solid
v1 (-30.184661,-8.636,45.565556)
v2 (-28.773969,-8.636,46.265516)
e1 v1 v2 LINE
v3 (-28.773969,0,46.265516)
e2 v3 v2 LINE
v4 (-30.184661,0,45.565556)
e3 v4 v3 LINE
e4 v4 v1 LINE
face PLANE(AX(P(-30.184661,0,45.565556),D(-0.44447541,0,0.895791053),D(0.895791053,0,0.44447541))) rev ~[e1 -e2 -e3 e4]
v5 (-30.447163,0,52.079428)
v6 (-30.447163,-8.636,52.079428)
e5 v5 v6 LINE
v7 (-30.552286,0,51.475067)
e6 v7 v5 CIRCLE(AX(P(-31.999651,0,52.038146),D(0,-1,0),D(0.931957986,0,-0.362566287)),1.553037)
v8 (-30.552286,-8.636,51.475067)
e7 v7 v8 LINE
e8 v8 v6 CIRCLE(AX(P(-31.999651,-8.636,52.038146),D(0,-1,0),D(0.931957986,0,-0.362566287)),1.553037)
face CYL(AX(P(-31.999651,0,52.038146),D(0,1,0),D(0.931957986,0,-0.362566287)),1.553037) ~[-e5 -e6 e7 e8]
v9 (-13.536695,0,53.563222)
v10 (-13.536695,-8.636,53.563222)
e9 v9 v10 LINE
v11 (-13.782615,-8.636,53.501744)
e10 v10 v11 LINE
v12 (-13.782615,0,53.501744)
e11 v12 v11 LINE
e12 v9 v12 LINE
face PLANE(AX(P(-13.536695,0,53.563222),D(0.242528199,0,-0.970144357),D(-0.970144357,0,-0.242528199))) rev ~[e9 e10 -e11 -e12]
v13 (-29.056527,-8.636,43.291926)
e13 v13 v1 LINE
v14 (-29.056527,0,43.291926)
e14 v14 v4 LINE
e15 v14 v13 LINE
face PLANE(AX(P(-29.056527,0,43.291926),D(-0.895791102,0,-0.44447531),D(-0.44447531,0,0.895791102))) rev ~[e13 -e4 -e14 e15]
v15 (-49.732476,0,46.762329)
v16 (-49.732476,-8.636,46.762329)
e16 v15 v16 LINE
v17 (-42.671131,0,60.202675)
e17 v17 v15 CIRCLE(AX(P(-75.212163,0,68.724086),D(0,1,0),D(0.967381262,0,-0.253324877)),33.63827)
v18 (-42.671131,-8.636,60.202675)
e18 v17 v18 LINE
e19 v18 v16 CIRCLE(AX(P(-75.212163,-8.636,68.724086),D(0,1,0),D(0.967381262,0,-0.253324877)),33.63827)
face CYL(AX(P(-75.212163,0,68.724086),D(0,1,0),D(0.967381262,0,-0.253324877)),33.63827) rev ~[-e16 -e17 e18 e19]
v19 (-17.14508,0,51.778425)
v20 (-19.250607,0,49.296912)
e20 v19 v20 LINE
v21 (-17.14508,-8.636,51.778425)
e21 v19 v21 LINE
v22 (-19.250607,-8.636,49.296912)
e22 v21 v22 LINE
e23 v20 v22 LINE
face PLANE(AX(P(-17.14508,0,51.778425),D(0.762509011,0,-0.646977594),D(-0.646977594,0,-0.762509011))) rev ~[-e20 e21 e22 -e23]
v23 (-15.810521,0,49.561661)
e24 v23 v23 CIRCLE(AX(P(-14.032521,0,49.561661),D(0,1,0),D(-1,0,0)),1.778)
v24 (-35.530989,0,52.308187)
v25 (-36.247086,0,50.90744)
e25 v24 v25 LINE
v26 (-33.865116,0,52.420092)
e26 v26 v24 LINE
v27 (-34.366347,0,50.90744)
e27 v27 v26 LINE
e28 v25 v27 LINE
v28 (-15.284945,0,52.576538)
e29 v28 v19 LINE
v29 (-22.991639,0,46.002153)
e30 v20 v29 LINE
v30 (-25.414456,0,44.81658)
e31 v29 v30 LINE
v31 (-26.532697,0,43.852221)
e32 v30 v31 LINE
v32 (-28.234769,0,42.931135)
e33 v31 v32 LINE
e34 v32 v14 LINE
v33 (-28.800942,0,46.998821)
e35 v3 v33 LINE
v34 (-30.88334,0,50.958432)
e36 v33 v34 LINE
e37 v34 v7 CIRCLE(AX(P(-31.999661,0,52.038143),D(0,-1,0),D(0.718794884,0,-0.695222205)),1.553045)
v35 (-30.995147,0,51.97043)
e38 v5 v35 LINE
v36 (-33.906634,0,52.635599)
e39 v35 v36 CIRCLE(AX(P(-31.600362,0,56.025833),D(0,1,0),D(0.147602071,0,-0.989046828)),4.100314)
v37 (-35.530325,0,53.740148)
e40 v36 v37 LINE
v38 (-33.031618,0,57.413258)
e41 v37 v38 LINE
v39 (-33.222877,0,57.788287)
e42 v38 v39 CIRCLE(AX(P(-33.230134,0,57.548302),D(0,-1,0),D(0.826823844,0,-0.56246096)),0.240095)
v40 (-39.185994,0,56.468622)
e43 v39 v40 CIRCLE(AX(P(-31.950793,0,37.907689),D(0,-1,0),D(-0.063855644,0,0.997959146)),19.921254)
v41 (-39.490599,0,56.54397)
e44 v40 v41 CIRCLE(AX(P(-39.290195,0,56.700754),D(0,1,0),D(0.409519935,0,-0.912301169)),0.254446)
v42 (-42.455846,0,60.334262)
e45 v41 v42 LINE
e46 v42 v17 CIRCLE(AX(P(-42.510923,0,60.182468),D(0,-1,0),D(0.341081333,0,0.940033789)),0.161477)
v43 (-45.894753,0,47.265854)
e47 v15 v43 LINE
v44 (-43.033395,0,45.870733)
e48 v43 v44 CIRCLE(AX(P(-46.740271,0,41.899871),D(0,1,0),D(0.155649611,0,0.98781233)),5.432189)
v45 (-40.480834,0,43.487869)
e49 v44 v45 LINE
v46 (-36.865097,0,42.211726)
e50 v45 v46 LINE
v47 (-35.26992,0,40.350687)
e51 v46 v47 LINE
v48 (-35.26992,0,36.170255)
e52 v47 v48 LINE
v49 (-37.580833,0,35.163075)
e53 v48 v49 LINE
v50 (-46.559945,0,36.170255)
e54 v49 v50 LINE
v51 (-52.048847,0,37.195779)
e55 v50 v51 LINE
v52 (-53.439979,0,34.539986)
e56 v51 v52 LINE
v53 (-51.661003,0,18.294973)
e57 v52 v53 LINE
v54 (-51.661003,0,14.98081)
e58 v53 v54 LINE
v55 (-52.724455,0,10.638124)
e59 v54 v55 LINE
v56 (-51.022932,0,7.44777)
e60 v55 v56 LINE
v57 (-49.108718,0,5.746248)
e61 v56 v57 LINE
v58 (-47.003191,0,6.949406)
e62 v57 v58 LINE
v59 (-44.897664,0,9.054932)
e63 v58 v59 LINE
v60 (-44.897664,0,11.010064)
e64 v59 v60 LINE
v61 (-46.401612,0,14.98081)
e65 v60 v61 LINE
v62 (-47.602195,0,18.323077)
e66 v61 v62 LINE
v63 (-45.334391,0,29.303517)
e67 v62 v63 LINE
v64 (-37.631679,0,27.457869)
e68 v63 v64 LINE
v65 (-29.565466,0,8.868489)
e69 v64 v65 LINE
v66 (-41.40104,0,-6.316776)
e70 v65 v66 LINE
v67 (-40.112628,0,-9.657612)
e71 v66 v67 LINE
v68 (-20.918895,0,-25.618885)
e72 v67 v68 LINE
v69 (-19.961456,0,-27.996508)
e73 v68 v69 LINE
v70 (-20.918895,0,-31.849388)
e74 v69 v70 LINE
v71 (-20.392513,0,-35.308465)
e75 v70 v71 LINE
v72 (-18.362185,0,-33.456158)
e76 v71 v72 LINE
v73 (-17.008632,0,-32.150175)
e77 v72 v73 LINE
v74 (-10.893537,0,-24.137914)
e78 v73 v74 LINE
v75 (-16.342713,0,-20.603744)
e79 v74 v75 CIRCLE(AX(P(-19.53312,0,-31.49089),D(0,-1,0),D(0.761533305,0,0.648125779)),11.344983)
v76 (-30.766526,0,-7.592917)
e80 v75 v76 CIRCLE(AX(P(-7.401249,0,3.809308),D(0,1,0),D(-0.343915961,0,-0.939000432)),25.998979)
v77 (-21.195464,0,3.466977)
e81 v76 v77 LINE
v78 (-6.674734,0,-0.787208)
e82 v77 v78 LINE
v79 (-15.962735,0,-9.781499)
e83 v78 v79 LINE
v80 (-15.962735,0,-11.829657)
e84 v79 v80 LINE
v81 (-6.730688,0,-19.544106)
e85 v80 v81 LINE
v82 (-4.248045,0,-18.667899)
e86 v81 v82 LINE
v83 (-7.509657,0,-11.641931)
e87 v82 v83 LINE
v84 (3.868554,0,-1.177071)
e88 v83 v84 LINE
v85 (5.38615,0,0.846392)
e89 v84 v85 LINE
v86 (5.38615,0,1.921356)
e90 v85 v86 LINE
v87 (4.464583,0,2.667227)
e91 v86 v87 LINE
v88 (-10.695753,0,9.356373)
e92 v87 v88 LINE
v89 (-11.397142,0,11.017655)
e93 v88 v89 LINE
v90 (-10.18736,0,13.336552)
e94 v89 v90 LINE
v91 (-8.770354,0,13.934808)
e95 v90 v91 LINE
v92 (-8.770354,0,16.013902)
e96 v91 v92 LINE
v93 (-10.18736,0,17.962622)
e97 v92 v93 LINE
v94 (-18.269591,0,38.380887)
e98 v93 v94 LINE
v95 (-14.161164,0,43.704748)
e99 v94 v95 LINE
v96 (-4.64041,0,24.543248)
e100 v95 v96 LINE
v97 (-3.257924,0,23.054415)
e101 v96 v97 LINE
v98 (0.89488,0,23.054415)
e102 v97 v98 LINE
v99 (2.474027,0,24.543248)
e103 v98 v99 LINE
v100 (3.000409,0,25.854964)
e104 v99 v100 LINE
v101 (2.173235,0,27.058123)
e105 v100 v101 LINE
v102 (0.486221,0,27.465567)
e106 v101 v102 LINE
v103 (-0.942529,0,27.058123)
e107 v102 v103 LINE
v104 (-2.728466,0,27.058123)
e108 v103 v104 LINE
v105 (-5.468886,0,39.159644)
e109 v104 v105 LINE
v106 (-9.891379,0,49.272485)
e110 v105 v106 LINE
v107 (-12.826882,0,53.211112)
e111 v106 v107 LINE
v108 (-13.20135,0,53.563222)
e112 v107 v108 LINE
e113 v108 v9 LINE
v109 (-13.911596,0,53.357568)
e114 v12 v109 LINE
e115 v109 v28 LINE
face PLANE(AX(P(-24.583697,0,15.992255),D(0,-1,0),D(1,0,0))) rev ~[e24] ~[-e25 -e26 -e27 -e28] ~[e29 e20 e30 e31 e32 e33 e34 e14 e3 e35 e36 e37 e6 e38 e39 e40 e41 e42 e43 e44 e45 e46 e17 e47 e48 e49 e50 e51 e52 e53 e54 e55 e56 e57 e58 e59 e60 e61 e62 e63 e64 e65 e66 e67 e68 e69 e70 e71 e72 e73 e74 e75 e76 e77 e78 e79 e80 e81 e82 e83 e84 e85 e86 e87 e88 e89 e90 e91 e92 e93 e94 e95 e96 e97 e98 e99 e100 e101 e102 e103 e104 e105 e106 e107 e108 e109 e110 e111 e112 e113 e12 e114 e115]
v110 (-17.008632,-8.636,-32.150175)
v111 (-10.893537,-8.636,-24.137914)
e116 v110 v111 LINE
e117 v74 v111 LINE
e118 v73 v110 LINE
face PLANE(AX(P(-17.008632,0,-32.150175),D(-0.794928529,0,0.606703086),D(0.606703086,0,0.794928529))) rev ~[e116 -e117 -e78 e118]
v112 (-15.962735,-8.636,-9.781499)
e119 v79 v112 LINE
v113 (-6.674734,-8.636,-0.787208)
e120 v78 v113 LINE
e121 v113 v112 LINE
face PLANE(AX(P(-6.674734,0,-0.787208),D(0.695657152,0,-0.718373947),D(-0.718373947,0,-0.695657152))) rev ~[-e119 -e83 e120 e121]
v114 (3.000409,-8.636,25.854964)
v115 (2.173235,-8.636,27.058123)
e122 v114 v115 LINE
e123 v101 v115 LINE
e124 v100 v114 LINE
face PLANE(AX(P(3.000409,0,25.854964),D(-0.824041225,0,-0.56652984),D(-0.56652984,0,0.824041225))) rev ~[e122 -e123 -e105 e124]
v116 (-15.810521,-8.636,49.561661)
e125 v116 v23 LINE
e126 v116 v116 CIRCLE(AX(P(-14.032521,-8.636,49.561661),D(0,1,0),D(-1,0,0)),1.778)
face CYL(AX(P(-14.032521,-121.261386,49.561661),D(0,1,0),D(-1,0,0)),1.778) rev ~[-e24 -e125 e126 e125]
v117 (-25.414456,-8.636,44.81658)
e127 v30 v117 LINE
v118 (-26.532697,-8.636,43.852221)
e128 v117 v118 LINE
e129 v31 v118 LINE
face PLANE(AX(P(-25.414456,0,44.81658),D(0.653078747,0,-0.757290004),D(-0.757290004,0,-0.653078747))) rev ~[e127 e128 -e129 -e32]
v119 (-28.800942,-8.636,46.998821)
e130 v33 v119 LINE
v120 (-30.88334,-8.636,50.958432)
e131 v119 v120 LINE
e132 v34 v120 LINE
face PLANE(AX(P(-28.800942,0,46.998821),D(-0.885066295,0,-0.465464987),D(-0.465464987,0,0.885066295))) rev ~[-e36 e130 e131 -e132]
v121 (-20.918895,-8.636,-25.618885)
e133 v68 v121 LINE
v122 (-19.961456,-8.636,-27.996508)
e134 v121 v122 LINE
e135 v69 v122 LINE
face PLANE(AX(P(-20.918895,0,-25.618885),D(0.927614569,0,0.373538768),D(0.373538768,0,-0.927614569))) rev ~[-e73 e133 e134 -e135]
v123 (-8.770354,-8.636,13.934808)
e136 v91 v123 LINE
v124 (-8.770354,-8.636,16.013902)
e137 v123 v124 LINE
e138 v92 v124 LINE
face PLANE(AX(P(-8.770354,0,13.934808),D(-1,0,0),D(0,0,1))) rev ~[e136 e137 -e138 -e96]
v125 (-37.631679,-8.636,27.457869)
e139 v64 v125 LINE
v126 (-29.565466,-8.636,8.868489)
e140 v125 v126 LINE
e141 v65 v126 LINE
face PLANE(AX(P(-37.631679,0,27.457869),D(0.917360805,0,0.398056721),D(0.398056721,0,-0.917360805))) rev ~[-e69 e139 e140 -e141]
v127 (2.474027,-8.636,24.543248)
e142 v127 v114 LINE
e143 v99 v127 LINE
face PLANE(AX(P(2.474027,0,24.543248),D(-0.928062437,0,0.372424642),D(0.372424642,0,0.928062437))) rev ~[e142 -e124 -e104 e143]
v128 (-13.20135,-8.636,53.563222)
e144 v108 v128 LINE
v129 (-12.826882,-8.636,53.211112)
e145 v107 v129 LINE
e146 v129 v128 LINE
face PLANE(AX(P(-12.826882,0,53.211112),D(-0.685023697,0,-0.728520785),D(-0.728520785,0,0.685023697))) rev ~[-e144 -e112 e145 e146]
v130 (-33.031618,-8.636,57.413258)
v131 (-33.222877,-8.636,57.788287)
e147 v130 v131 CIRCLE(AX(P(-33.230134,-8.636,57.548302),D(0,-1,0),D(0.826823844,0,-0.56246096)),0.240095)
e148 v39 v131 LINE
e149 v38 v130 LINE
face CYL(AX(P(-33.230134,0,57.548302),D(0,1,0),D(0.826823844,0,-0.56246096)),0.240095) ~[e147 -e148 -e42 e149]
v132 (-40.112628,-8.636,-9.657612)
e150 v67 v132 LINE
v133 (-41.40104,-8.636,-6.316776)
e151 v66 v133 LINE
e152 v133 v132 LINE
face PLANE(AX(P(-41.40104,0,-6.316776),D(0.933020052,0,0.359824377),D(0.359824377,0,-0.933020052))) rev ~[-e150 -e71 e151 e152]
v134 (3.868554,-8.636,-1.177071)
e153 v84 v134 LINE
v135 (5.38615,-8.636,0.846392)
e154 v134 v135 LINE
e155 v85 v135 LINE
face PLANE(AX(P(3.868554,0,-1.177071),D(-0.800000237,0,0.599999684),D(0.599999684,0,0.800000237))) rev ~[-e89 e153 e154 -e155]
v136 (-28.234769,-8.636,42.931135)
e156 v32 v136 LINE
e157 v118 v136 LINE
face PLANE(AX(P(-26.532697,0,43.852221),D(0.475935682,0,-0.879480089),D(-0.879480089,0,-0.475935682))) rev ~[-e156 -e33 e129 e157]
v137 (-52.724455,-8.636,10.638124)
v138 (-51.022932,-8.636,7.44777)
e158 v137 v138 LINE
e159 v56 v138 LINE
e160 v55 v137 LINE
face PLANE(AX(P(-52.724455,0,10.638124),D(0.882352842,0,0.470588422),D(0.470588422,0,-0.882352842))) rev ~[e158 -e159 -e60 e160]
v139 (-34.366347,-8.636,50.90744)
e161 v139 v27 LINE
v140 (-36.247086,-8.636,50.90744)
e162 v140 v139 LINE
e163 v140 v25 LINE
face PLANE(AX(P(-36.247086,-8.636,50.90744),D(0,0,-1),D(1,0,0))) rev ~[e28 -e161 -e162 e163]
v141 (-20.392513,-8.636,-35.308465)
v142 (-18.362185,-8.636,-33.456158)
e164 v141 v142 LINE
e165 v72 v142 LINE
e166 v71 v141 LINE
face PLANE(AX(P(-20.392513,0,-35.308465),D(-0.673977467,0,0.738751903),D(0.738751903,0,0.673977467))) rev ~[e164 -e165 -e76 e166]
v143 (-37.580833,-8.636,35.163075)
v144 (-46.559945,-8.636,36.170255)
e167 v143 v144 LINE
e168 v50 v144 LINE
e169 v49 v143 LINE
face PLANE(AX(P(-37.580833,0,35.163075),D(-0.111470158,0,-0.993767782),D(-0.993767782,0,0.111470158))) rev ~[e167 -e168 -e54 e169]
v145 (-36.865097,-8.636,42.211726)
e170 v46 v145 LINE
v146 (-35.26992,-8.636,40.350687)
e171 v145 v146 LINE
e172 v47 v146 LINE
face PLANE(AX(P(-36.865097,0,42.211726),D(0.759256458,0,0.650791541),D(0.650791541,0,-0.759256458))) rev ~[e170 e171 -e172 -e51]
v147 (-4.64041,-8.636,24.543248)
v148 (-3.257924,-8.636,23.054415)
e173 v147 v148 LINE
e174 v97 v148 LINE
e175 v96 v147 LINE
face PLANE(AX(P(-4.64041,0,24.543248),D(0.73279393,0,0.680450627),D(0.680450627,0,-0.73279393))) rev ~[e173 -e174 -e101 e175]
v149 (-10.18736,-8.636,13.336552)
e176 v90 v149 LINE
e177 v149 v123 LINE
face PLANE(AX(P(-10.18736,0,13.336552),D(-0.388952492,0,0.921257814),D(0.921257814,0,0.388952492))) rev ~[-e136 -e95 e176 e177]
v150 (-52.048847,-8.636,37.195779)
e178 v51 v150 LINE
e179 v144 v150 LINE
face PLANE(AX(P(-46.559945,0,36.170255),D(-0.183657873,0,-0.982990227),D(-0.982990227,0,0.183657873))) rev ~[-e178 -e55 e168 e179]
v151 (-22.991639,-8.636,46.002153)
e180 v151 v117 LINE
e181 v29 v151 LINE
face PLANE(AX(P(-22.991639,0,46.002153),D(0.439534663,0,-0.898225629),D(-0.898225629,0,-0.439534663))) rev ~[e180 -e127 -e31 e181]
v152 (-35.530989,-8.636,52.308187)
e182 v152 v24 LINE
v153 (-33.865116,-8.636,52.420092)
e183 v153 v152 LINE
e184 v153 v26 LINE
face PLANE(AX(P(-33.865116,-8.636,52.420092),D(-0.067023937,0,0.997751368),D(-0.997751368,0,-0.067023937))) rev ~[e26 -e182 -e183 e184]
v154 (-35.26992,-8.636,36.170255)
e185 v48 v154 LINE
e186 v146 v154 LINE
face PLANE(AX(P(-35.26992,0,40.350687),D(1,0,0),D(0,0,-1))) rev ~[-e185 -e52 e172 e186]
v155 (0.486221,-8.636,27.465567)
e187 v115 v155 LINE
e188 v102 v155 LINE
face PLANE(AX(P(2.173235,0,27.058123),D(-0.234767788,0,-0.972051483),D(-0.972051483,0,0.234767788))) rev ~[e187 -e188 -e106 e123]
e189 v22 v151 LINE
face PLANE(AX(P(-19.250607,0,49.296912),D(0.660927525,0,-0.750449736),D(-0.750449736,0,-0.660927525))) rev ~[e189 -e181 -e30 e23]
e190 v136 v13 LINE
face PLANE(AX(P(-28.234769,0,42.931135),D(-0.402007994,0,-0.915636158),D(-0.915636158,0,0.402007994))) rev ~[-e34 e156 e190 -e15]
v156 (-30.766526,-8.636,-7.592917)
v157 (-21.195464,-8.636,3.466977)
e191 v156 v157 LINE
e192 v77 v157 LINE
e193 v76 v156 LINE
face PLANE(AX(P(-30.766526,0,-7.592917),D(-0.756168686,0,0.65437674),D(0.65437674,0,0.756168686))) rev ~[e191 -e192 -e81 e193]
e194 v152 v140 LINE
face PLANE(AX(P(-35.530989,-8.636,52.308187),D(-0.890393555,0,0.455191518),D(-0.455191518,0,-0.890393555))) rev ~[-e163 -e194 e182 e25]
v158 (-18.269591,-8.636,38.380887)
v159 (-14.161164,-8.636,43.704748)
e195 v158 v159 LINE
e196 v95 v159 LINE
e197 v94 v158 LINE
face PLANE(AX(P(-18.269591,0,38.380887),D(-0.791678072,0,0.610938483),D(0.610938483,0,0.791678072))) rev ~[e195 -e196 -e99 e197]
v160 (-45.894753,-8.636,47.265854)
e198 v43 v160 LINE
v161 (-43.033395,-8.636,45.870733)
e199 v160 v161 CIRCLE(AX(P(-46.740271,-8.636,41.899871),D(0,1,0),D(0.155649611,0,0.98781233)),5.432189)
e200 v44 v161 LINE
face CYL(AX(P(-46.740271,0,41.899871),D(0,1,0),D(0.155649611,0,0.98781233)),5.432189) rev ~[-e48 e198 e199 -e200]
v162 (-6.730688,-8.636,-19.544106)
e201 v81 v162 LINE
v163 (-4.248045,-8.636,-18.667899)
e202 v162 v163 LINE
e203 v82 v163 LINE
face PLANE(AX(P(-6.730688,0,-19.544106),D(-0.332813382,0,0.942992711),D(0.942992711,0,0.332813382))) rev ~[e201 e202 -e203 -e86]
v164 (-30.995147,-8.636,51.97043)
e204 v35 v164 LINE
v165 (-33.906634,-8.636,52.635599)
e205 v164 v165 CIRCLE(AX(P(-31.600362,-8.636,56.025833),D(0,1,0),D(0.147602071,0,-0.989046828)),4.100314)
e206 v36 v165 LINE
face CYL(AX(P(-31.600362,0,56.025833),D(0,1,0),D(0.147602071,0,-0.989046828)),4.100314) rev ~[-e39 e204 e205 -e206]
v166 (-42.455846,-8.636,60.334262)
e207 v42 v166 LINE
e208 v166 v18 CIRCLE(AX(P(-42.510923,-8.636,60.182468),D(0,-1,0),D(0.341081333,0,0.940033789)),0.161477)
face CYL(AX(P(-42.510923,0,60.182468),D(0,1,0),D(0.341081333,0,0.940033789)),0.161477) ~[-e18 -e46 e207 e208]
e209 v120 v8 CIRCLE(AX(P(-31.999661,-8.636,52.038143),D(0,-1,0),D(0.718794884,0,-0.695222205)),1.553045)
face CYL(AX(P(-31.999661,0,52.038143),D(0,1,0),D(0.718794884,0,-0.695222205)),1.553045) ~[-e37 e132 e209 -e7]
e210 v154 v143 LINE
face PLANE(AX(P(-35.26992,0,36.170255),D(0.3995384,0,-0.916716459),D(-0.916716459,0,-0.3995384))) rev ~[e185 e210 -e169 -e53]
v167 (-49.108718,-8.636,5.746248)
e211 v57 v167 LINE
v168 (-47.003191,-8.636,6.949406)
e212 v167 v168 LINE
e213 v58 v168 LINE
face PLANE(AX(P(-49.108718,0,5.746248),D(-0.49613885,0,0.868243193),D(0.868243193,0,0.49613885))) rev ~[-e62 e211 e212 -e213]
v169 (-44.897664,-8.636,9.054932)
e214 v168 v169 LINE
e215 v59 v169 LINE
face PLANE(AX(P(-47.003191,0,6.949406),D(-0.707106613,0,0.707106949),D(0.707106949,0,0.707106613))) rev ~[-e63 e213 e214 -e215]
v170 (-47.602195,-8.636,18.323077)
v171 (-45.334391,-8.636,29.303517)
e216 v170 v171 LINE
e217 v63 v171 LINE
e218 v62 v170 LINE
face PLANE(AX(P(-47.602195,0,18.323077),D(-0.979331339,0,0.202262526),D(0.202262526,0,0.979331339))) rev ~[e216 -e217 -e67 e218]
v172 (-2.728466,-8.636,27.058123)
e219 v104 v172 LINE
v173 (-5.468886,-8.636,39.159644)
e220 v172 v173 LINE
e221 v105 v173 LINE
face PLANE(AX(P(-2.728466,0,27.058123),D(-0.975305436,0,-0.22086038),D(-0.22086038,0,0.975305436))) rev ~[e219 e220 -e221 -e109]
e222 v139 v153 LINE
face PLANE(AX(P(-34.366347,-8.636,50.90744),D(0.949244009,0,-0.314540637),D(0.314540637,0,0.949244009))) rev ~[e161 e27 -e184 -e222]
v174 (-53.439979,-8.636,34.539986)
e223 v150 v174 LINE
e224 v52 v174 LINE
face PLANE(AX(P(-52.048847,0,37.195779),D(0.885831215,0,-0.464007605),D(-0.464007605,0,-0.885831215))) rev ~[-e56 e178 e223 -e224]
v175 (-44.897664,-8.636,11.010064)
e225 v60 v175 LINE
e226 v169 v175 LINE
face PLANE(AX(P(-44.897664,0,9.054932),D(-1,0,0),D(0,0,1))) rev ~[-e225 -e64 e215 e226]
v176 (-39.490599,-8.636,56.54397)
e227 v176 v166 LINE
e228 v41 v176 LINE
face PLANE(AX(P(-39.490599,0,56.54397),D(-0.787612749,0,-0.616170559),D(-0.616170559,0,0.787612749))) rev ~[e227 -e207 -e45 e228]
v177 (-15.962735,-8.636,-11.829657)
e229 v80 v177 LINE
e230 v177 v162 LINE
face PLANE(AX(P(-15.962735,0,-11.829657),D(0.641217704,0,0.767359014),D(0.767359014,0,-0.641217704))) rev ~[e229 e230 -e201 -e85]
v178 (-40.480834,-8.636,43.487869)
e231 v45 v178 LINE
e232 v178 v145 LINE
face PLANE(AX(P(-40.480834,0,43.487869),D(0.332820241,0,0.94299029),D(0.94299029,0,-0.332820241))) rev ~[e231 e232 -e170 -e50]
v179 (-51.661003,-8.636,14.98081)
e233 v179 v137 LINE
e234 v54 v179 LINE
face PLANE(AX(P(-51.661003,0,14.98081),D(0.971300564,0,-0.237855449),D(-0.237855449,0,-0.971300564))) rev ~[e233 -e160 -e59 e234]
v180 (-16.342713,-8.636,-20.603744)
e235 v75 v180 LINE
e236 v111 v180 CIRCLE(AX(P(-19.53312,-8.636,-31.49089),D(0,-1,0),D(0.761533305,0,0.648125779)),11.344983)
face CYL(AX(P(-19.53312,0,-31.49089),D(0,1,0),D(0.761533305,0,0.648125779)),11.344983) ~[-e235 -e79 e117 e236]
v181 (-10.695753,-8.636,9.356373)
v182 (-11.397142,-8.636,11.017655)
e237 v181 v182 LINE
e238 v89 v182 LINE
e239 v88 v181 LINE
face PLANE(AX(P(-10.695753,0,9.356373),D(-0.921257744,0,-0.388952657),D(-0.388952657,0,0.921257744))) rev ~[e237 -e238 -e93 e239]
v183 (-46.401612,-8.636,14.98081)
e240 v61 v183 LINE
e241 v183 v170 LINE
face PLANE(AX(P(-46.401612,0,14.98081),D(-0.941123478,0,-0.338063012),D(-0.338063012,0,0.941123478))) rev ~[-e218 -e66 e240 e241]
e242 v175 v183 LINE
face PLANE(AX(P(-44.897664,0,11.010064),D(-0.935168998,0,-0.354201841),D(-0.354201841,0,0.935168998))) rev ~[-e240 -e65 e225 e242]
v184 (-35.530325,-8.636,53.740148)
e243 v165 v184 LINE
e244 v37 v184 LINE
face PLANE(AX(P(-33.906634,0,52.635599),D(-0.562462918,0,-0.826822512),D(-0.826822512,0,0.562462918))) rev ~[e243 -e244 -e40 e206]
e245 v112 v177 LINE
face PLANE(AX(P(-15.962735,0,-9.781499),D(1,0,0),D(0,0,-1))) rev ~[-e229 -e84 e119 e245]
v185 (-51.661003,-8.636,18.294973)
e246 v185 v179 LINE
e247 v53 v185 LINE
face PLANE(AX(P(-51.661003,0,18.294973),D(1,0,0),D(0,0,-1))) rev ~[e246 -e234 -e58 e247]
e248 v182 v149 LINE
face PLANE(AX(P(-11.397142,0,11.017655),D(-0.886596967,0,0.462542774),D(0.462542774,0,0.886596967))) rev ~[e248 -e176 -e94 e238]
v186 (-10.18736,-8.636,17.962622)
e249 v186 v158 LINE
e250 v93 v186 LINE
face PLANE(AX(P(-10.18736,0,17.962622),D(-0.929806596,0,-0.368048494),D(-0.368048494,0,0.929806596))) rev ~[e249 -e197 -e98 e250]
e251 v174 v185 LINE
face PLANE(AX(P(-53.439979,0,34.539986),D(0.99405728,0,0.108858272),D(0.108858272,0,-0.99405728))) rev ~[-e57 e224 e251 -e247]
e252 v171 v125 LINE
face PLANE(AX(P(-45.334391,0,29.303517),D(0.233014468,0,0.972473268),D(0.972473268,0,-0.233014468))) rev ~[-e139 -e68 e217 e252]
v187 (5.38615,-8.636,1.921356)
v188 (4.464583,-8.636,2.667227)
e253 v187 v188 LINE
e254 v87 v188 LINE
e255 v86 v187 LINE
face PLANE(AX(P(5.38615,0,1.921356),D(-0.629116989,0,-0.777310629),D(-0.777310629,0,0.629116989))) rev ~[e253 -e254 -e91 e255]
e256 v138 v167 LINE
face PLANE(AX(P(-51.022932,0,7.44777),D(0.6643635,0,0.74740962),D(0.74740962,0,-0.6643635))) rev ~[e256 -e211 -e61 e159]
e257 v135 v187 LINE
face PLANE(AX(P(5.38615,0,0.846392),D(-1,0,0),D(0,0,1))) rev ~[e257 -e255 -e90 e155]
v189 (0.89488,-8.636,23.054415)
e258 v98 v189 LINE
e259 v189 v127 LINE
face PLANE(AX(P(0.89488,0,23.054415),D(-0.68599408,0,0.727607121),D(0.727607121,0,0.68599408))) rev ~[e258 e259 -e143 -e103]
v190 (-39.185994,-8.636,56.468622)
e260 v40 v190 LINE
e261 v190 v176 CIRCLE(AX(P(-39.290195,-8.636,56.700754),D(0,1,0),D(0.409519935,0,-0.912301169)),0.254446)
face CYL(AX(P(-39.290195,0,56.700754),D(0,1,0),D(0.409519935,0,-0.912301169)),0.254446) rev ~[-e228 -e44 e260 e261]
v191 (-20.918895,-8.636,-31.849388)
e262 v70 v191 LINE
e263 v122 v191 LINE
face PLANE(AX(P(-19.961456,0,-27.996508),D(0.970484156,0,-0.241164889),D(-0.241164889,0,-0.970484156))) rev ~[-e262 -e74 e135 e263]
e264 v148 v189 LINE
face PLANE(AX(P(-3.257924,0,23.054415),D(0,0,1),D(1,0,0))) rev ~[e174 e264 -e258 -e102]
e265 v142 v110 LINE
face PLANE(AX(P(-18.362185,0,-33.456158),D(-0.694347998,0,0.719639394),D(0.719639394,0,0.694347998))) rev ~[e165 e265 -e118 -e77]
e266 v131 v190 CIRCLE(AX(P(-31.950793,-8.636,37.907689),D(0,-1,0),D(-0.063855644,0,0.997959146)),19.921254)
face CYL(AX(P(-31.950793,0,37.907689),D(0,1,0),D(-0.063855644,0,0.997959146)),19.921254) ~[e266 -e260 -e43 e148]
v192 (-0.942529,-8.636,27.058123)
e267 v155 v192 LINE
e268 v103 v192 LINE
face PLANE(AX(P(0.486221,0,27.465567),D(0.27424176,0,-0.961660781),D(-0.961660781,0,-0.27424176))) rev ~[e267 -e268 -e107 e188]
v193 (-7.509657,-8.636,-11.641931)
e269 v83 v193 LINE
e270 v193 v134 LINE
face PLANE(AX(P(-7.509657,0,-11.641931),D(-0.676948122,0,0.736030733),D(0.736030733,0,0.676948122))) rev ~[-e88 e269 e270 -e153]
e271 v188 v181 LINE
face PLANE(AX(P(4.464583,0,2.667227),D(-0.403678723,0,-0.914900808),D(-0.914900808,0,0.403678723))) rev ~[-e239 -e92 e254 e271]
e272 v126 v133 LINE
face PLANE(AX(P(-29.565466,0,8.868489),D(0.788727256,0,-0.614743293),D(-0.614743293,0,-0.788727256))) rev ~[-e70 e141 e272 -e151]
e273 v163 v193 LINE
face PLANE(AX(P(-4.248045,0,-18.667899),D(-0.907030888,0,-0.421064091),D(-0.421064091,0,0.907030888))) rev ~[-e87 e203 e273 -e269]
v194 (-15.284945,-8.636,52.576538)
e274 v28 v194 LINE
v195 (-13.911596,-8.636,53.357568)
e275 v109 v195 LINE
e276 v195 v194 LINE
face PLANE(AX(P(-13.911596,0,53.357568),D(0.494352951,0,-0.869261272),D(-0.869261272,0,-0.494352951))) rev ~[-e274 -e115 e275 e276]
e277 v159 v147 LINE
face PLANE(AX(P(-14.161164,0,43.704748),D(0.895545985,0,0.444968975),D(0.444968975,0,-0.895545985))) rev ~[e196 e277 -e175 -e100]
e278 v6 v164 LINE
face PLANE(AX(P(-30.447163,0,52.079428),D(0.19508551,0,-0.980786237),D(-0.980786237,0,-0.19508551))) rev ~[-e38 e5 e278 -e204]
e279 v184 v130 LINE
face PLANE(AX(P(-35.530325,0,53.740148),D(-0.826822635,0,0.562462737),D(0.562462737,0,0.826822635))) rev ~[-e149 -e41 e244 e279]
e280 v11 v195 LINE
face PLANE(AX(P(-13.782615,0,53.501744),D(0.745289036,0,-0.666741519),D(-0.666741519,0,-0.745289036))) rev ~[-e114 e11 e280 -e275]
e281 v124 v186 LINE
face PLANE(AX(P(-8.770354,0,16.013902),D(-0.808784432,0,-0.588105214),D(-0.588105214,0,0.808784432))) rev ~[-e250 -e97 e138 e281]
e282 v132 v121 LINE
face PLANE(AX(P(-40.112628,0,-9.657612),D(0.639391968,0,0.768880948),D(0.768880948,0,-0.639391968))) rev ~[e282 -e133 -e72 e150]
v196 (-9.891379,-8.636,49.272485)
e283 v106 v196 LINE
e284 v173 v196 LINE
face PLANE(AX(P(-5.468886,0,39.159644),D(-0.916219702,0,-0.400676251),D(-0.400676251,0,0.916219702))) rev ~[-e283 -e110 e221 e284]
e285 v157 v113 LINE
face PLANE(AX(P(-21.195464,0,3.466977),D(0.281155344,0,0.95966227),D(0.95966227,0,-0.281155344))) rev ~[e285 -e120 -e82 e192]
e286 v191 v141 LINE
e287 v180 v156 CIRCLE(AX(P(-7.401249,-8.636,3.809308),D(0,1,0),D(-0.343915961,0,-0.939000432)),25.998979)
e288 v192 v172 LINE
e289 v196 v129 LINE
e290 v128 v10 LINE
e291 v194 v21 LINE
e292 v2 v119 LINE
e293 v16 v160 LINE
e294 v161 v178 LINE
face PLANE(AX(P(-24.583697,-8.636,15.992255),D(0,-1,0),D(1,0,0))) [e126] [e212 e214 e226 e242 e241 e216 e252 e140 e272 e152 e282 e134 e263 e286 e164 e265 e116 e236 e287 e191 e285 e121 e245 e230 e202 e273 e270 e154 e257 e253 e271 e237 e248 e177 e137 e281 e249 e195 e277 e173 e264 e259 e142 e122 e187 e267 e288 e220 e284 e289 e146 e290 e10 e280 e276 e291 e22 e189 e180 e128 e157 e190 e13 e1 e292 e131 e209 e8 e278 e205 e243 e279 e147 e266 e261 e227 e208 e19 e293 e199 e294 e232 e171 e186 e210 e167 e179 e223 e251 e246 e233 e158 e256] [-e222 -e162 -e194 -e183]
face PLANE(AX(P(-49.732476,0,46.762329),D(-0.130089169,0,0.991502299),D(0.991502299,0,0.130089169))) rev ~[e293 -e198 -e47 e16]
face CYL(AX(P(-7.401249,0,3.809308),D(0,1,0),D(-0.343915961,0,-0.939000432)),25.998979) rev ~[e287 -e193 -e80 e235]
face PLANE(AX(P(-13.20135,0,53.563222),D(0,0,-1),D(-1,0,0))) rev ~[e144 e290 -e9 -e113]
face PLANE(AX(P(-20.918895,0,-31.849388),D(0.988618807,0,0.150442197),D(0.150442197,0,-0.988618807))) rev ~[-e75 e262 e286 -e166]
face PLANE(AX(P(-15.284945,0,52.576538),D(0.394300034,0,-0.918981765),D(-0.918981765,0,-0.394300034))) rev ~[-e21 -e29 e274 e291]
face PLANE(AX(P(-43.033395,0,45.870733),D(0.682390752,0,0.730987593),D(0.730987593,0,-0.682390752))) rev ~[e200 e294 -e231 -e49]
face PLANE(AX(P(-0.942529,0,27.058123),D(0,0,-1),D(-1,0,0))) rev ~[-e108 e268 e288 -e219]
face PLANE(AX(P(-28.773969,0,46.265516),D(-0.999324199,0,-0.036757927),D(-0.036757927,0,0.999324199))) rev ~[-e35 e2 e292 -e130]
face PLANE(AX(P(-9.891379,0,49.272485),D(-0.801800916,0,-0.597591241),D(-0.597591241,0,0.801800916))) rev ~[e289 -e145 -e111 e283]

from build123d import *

# Parameters (mm, degrees)
F1_DEPTH = 8.636
F3_D     = 3.556
F5_DEPTH = 25.4


with BuildPart() as f1:
    # F0 (on Front) → F1 (new body)
    with BuildSketch(Plane.XZ):
        with BuildLine():
            Line((-39.490599, 56.54397), (-42.455846, 60.334262))
            ThreePointArc((-42.455846, 60.334262), (-42.595136, 60.320247), (-42.671131, 60.202675))
            ThreePointArc((-42.671131, 60.202675), (-45.433619, 53.07891), (-49.732476, 46.762329))
            Line((-49.732476, 46.762329), (-45.894753, 47.265854))
            ThreePointArc((-45.894753, 47.265854), (-44.359586, 46.782597), (-43.033395, 45.870733))
            Line((-43.033395, 45.870733), (-40.480834, 43.487869))
            Line((-40.480834, 43.487869), (-36.865097, 42.211726))
            Line((-36.865097, 42.211726), (-35.26992, 40.350687))
            Line((-35.26992, 40.350687), (-35.26992, 36.170255))
            Line((-35.26992, 36.170255), (-37.580833, 35.163075))
            Line((-37.580833, 35.163075), (-46.559945, 36.170255))
            Line((-46.559945, 36.170255), (-52.048847, 37.195779))
            Line((-52.048847, 37.195779), (-53.439979, 34.539986))
            Line((-53.439979, 34.539986), (-51.661003, 18.294973))
            Line((-51.661003, 18.294973), (-51.661003, 14.98081))
            Line((-51.661003, 14.98081), (-52.724455, 10.638124))
            Line((-52.724455, 10.638124), (-51.022932, 7.44777))
            Line((-51.022932, 7.44777), (-49.108718, 5.746248))
            Line((-49.108718, 5.746248), (-47.003191, 6.949406))
            Line((-47.003191, 6.949406), (-44.897664, 9.054932))
            Line((-44.897664, 9.054932), (-44.897664, 11.010064))
            Line((-44.897664, 11.010064), (-46.401612, 14.98081))
            Line((-46.401612, 14.98081), (-47.602195, 18.323077))
            Line((-47.602195, 18.323077), (-45.334391, 29.303517))
            Line((-45.334391, 29.303517), (-37.631679, 27.457869))
            Line((-37.631679, 27.457869), (-29.565466, 8.868489))
            Line((-29.565466, 8.868489), (-41.40104, -6.316776))
            Line((-41.40104, -6.316776), (-40.112628, -9.657612))
            Line((-40.112628, -9.657612), (-20.918895, -25.618885))
            Line((-20.918895, -25.618885), (-19.961456, -27.996508))
            Line((-19.961456, -27.996508), (-20.918895, -31.849388))
            Line((-20.918895, -31.849388), (-20.392513, -35.308465))
            Line((-20.392513, -35.308465), (-18.362185, -33.456158))
            Line((-18.362185, -33.456158), (-17.008632, -32.150175))
            Line((-17.008632, -32.150175), (-10.893537, -24.137914))
            ThreePointArc((-10.893537, -24.137914), (-13.35981, -21.972545), (-16.342713, -20.603744))
            ThreePointArc((-16.342713, -20.603744), (-24.815375, -15.496005), (-30.766526, -7.592917))
            Line((-30.766526, -7.592917), (-21.195464, 3.466977))
            Line((-21.195464, 3.466977), (-6.674734, -0.787208))
            Line((-6.674734, -0.787208), (-15.962735, -9.781499))
            Line((-15.962735, -9.781499), (-15.962735, -11.829657))
            Line((-15.962735, -11.829657), (-6.730688, -19.544106))
            Line((-6.730688, -19.544106), (-4.248045, -18.667899))
            Line((-4.248045, -18.667899), (-7.509657, -11.641931))
            Line((-7.509657, -11.641931), (3.868554, -1.177071))
            Line((3.868554, -1.177071), (5.38615, 0.846392))
            Line((5.38615, 0.846392), (5.38615, 1.921356))
            Line((5.38615, 1.921356), (4.464583, 2.667227))
            Line((4.464583, 2.667227), (-10.695753, 9.356373))
            Line((-10.695753, 9.356373), (-11.397142, 11.017655))
            Line((-11.397142, 11.017655), (-10.18736, 13.336552))
            Line((-10.18736, 13.336552), (-8.770354, 13.934808))
            Line((-8.770354, 13.934808), (-8.770354, 16.013902))
            Line((-8.770354, 16.013902), (-10.18736, 17.962622))
            Line((-10.18736, 17.962622), (-18.269591, 38.380887))
            Line((-18.269591, 38.380887), (-14.161164, 43.704748))
            Line((-14.161164, 43.704748), (-4.64041, 24.543248))
            Line((-4.64041, 24.543248), (-3.257924, 23.054415))
            Line((-3.257924, 23.054415), (-1.556402, 23.054415))
            Line((-1.556402, 23.054415), (0.89488, 23.054415))
            Line((0.89488, 23.054415), (2.474027, 24.543248))
            Line((2.474027, 24.543248), (3.000409, 25.854964))
            Line((3.000409, 25.854964), (2.173235, 27.058123))
            Line((2.173235, 27.058123), (0.486221, 27.465567))
            Line((0.486221, 27.465567), (-0.942529, 27.058123))
            Line((-0.942529, 27.058123), (-2.728466, 27.058123))
            Line((-2.728466, 27.058123), (-5.468886, 39.159644))
            Line((-5.468886, 39.159644), (-9.891379, 49.272485))
            Line((-9.891379, 49.272485), (-12.826882, 53.211112))
            Line((-12.826882, 53.211112), (-13.20135, 53.563222))
            Line((-13.20135, 53.563222), (-13.536695, 53.563222))
            Line((-13.536695, 53.563222), (-13.782615, 53.501744))
            Line((-13.782615, 53.501744), (-13.911596, 53.357568))
            Line((-13.911596, 53.357568), (-15.284945, 52.576538))
            Line((-15.284945, 52.576538), (-17.14508, 51.778425))
            Line((-17.14508, 51.778425), (-19.250607, 49.296912))
            Line((-19.250607, 49.296912), (-22.991639, 46.002153))
            Line((-22.991639, 46.002153), (-25.414456, 44.81658))
            Line((-25.414456, 44.81658), (-26.532697, 43.852221))
            Line((-26.532697, 43.852221), (-28.234769, 42.931135))
            Line((-28.234769, 42.931135), (-29.056527, 43.291926))
            Line((-29.056527, 43.291926), (-30.184661, 45.565556))
            Line((-30.184661, 45.565556), (-28.773969, 46.265516))
            Line((-28.773969, 46.265516), (-28.800942, 46.998821))
            Line((-28.800942, 46.998821), (-30.88334, 50.958432))
            ThreePointArc((-30.88334, 50.958432), (-30.692044, 51.200237), (-30.552286, 51.475067))
            ThreePointArc((-30.552286, 51.475067), (-30.469588, 51.772006), (-30.447163, 52.079428))
            Line((-30.447163, 52.079428), (-30.995147, 51.97043))
            ThreePointArc((-30.995147, 51.97043), (-32.513604, 52.028513), (-33.906634, 52.635599))
            Line((-33.906634, 52.635599), (-35.530325, 53.740148))
            Line((-35.530325, 53.740148), (-33.031618, 57.413258))
            ThreePointArc((-33.031618, 57.413258), (-33.016248, 57.657381), (-33.222877, 57.788287))
            ThreePointArc((-33.222877, 57.788287), (-36.255309, 57.358332), (-39.185994, 56.468622))
            ThreePointArc((-39.185994, 56.468622), (-39.351294, 56.453752), (-39.490599, 56.54397))
        make_face()
    extrude(amount=F1_DEPTH)

    # F3 (through all)
    with Locations(Plane.XZ.offset(8.636)):
        with Locations((-14.032521, 49.561661)):
            Hole(F3_D / 2)

    # F4 (on face) → F5 (cut)
    with BuildSketch(Plane.XZ.offset(8.636)):
        Polygon((-36.247086, 50.90744), (-34.366347, 50.90744), (-33.865116, 52.420092), (-35.530989, 52.308187), align=None)
    extrude(amount=-F5_DEPTH, mode=Mode.SUBTRACT)


solid = f1.part
